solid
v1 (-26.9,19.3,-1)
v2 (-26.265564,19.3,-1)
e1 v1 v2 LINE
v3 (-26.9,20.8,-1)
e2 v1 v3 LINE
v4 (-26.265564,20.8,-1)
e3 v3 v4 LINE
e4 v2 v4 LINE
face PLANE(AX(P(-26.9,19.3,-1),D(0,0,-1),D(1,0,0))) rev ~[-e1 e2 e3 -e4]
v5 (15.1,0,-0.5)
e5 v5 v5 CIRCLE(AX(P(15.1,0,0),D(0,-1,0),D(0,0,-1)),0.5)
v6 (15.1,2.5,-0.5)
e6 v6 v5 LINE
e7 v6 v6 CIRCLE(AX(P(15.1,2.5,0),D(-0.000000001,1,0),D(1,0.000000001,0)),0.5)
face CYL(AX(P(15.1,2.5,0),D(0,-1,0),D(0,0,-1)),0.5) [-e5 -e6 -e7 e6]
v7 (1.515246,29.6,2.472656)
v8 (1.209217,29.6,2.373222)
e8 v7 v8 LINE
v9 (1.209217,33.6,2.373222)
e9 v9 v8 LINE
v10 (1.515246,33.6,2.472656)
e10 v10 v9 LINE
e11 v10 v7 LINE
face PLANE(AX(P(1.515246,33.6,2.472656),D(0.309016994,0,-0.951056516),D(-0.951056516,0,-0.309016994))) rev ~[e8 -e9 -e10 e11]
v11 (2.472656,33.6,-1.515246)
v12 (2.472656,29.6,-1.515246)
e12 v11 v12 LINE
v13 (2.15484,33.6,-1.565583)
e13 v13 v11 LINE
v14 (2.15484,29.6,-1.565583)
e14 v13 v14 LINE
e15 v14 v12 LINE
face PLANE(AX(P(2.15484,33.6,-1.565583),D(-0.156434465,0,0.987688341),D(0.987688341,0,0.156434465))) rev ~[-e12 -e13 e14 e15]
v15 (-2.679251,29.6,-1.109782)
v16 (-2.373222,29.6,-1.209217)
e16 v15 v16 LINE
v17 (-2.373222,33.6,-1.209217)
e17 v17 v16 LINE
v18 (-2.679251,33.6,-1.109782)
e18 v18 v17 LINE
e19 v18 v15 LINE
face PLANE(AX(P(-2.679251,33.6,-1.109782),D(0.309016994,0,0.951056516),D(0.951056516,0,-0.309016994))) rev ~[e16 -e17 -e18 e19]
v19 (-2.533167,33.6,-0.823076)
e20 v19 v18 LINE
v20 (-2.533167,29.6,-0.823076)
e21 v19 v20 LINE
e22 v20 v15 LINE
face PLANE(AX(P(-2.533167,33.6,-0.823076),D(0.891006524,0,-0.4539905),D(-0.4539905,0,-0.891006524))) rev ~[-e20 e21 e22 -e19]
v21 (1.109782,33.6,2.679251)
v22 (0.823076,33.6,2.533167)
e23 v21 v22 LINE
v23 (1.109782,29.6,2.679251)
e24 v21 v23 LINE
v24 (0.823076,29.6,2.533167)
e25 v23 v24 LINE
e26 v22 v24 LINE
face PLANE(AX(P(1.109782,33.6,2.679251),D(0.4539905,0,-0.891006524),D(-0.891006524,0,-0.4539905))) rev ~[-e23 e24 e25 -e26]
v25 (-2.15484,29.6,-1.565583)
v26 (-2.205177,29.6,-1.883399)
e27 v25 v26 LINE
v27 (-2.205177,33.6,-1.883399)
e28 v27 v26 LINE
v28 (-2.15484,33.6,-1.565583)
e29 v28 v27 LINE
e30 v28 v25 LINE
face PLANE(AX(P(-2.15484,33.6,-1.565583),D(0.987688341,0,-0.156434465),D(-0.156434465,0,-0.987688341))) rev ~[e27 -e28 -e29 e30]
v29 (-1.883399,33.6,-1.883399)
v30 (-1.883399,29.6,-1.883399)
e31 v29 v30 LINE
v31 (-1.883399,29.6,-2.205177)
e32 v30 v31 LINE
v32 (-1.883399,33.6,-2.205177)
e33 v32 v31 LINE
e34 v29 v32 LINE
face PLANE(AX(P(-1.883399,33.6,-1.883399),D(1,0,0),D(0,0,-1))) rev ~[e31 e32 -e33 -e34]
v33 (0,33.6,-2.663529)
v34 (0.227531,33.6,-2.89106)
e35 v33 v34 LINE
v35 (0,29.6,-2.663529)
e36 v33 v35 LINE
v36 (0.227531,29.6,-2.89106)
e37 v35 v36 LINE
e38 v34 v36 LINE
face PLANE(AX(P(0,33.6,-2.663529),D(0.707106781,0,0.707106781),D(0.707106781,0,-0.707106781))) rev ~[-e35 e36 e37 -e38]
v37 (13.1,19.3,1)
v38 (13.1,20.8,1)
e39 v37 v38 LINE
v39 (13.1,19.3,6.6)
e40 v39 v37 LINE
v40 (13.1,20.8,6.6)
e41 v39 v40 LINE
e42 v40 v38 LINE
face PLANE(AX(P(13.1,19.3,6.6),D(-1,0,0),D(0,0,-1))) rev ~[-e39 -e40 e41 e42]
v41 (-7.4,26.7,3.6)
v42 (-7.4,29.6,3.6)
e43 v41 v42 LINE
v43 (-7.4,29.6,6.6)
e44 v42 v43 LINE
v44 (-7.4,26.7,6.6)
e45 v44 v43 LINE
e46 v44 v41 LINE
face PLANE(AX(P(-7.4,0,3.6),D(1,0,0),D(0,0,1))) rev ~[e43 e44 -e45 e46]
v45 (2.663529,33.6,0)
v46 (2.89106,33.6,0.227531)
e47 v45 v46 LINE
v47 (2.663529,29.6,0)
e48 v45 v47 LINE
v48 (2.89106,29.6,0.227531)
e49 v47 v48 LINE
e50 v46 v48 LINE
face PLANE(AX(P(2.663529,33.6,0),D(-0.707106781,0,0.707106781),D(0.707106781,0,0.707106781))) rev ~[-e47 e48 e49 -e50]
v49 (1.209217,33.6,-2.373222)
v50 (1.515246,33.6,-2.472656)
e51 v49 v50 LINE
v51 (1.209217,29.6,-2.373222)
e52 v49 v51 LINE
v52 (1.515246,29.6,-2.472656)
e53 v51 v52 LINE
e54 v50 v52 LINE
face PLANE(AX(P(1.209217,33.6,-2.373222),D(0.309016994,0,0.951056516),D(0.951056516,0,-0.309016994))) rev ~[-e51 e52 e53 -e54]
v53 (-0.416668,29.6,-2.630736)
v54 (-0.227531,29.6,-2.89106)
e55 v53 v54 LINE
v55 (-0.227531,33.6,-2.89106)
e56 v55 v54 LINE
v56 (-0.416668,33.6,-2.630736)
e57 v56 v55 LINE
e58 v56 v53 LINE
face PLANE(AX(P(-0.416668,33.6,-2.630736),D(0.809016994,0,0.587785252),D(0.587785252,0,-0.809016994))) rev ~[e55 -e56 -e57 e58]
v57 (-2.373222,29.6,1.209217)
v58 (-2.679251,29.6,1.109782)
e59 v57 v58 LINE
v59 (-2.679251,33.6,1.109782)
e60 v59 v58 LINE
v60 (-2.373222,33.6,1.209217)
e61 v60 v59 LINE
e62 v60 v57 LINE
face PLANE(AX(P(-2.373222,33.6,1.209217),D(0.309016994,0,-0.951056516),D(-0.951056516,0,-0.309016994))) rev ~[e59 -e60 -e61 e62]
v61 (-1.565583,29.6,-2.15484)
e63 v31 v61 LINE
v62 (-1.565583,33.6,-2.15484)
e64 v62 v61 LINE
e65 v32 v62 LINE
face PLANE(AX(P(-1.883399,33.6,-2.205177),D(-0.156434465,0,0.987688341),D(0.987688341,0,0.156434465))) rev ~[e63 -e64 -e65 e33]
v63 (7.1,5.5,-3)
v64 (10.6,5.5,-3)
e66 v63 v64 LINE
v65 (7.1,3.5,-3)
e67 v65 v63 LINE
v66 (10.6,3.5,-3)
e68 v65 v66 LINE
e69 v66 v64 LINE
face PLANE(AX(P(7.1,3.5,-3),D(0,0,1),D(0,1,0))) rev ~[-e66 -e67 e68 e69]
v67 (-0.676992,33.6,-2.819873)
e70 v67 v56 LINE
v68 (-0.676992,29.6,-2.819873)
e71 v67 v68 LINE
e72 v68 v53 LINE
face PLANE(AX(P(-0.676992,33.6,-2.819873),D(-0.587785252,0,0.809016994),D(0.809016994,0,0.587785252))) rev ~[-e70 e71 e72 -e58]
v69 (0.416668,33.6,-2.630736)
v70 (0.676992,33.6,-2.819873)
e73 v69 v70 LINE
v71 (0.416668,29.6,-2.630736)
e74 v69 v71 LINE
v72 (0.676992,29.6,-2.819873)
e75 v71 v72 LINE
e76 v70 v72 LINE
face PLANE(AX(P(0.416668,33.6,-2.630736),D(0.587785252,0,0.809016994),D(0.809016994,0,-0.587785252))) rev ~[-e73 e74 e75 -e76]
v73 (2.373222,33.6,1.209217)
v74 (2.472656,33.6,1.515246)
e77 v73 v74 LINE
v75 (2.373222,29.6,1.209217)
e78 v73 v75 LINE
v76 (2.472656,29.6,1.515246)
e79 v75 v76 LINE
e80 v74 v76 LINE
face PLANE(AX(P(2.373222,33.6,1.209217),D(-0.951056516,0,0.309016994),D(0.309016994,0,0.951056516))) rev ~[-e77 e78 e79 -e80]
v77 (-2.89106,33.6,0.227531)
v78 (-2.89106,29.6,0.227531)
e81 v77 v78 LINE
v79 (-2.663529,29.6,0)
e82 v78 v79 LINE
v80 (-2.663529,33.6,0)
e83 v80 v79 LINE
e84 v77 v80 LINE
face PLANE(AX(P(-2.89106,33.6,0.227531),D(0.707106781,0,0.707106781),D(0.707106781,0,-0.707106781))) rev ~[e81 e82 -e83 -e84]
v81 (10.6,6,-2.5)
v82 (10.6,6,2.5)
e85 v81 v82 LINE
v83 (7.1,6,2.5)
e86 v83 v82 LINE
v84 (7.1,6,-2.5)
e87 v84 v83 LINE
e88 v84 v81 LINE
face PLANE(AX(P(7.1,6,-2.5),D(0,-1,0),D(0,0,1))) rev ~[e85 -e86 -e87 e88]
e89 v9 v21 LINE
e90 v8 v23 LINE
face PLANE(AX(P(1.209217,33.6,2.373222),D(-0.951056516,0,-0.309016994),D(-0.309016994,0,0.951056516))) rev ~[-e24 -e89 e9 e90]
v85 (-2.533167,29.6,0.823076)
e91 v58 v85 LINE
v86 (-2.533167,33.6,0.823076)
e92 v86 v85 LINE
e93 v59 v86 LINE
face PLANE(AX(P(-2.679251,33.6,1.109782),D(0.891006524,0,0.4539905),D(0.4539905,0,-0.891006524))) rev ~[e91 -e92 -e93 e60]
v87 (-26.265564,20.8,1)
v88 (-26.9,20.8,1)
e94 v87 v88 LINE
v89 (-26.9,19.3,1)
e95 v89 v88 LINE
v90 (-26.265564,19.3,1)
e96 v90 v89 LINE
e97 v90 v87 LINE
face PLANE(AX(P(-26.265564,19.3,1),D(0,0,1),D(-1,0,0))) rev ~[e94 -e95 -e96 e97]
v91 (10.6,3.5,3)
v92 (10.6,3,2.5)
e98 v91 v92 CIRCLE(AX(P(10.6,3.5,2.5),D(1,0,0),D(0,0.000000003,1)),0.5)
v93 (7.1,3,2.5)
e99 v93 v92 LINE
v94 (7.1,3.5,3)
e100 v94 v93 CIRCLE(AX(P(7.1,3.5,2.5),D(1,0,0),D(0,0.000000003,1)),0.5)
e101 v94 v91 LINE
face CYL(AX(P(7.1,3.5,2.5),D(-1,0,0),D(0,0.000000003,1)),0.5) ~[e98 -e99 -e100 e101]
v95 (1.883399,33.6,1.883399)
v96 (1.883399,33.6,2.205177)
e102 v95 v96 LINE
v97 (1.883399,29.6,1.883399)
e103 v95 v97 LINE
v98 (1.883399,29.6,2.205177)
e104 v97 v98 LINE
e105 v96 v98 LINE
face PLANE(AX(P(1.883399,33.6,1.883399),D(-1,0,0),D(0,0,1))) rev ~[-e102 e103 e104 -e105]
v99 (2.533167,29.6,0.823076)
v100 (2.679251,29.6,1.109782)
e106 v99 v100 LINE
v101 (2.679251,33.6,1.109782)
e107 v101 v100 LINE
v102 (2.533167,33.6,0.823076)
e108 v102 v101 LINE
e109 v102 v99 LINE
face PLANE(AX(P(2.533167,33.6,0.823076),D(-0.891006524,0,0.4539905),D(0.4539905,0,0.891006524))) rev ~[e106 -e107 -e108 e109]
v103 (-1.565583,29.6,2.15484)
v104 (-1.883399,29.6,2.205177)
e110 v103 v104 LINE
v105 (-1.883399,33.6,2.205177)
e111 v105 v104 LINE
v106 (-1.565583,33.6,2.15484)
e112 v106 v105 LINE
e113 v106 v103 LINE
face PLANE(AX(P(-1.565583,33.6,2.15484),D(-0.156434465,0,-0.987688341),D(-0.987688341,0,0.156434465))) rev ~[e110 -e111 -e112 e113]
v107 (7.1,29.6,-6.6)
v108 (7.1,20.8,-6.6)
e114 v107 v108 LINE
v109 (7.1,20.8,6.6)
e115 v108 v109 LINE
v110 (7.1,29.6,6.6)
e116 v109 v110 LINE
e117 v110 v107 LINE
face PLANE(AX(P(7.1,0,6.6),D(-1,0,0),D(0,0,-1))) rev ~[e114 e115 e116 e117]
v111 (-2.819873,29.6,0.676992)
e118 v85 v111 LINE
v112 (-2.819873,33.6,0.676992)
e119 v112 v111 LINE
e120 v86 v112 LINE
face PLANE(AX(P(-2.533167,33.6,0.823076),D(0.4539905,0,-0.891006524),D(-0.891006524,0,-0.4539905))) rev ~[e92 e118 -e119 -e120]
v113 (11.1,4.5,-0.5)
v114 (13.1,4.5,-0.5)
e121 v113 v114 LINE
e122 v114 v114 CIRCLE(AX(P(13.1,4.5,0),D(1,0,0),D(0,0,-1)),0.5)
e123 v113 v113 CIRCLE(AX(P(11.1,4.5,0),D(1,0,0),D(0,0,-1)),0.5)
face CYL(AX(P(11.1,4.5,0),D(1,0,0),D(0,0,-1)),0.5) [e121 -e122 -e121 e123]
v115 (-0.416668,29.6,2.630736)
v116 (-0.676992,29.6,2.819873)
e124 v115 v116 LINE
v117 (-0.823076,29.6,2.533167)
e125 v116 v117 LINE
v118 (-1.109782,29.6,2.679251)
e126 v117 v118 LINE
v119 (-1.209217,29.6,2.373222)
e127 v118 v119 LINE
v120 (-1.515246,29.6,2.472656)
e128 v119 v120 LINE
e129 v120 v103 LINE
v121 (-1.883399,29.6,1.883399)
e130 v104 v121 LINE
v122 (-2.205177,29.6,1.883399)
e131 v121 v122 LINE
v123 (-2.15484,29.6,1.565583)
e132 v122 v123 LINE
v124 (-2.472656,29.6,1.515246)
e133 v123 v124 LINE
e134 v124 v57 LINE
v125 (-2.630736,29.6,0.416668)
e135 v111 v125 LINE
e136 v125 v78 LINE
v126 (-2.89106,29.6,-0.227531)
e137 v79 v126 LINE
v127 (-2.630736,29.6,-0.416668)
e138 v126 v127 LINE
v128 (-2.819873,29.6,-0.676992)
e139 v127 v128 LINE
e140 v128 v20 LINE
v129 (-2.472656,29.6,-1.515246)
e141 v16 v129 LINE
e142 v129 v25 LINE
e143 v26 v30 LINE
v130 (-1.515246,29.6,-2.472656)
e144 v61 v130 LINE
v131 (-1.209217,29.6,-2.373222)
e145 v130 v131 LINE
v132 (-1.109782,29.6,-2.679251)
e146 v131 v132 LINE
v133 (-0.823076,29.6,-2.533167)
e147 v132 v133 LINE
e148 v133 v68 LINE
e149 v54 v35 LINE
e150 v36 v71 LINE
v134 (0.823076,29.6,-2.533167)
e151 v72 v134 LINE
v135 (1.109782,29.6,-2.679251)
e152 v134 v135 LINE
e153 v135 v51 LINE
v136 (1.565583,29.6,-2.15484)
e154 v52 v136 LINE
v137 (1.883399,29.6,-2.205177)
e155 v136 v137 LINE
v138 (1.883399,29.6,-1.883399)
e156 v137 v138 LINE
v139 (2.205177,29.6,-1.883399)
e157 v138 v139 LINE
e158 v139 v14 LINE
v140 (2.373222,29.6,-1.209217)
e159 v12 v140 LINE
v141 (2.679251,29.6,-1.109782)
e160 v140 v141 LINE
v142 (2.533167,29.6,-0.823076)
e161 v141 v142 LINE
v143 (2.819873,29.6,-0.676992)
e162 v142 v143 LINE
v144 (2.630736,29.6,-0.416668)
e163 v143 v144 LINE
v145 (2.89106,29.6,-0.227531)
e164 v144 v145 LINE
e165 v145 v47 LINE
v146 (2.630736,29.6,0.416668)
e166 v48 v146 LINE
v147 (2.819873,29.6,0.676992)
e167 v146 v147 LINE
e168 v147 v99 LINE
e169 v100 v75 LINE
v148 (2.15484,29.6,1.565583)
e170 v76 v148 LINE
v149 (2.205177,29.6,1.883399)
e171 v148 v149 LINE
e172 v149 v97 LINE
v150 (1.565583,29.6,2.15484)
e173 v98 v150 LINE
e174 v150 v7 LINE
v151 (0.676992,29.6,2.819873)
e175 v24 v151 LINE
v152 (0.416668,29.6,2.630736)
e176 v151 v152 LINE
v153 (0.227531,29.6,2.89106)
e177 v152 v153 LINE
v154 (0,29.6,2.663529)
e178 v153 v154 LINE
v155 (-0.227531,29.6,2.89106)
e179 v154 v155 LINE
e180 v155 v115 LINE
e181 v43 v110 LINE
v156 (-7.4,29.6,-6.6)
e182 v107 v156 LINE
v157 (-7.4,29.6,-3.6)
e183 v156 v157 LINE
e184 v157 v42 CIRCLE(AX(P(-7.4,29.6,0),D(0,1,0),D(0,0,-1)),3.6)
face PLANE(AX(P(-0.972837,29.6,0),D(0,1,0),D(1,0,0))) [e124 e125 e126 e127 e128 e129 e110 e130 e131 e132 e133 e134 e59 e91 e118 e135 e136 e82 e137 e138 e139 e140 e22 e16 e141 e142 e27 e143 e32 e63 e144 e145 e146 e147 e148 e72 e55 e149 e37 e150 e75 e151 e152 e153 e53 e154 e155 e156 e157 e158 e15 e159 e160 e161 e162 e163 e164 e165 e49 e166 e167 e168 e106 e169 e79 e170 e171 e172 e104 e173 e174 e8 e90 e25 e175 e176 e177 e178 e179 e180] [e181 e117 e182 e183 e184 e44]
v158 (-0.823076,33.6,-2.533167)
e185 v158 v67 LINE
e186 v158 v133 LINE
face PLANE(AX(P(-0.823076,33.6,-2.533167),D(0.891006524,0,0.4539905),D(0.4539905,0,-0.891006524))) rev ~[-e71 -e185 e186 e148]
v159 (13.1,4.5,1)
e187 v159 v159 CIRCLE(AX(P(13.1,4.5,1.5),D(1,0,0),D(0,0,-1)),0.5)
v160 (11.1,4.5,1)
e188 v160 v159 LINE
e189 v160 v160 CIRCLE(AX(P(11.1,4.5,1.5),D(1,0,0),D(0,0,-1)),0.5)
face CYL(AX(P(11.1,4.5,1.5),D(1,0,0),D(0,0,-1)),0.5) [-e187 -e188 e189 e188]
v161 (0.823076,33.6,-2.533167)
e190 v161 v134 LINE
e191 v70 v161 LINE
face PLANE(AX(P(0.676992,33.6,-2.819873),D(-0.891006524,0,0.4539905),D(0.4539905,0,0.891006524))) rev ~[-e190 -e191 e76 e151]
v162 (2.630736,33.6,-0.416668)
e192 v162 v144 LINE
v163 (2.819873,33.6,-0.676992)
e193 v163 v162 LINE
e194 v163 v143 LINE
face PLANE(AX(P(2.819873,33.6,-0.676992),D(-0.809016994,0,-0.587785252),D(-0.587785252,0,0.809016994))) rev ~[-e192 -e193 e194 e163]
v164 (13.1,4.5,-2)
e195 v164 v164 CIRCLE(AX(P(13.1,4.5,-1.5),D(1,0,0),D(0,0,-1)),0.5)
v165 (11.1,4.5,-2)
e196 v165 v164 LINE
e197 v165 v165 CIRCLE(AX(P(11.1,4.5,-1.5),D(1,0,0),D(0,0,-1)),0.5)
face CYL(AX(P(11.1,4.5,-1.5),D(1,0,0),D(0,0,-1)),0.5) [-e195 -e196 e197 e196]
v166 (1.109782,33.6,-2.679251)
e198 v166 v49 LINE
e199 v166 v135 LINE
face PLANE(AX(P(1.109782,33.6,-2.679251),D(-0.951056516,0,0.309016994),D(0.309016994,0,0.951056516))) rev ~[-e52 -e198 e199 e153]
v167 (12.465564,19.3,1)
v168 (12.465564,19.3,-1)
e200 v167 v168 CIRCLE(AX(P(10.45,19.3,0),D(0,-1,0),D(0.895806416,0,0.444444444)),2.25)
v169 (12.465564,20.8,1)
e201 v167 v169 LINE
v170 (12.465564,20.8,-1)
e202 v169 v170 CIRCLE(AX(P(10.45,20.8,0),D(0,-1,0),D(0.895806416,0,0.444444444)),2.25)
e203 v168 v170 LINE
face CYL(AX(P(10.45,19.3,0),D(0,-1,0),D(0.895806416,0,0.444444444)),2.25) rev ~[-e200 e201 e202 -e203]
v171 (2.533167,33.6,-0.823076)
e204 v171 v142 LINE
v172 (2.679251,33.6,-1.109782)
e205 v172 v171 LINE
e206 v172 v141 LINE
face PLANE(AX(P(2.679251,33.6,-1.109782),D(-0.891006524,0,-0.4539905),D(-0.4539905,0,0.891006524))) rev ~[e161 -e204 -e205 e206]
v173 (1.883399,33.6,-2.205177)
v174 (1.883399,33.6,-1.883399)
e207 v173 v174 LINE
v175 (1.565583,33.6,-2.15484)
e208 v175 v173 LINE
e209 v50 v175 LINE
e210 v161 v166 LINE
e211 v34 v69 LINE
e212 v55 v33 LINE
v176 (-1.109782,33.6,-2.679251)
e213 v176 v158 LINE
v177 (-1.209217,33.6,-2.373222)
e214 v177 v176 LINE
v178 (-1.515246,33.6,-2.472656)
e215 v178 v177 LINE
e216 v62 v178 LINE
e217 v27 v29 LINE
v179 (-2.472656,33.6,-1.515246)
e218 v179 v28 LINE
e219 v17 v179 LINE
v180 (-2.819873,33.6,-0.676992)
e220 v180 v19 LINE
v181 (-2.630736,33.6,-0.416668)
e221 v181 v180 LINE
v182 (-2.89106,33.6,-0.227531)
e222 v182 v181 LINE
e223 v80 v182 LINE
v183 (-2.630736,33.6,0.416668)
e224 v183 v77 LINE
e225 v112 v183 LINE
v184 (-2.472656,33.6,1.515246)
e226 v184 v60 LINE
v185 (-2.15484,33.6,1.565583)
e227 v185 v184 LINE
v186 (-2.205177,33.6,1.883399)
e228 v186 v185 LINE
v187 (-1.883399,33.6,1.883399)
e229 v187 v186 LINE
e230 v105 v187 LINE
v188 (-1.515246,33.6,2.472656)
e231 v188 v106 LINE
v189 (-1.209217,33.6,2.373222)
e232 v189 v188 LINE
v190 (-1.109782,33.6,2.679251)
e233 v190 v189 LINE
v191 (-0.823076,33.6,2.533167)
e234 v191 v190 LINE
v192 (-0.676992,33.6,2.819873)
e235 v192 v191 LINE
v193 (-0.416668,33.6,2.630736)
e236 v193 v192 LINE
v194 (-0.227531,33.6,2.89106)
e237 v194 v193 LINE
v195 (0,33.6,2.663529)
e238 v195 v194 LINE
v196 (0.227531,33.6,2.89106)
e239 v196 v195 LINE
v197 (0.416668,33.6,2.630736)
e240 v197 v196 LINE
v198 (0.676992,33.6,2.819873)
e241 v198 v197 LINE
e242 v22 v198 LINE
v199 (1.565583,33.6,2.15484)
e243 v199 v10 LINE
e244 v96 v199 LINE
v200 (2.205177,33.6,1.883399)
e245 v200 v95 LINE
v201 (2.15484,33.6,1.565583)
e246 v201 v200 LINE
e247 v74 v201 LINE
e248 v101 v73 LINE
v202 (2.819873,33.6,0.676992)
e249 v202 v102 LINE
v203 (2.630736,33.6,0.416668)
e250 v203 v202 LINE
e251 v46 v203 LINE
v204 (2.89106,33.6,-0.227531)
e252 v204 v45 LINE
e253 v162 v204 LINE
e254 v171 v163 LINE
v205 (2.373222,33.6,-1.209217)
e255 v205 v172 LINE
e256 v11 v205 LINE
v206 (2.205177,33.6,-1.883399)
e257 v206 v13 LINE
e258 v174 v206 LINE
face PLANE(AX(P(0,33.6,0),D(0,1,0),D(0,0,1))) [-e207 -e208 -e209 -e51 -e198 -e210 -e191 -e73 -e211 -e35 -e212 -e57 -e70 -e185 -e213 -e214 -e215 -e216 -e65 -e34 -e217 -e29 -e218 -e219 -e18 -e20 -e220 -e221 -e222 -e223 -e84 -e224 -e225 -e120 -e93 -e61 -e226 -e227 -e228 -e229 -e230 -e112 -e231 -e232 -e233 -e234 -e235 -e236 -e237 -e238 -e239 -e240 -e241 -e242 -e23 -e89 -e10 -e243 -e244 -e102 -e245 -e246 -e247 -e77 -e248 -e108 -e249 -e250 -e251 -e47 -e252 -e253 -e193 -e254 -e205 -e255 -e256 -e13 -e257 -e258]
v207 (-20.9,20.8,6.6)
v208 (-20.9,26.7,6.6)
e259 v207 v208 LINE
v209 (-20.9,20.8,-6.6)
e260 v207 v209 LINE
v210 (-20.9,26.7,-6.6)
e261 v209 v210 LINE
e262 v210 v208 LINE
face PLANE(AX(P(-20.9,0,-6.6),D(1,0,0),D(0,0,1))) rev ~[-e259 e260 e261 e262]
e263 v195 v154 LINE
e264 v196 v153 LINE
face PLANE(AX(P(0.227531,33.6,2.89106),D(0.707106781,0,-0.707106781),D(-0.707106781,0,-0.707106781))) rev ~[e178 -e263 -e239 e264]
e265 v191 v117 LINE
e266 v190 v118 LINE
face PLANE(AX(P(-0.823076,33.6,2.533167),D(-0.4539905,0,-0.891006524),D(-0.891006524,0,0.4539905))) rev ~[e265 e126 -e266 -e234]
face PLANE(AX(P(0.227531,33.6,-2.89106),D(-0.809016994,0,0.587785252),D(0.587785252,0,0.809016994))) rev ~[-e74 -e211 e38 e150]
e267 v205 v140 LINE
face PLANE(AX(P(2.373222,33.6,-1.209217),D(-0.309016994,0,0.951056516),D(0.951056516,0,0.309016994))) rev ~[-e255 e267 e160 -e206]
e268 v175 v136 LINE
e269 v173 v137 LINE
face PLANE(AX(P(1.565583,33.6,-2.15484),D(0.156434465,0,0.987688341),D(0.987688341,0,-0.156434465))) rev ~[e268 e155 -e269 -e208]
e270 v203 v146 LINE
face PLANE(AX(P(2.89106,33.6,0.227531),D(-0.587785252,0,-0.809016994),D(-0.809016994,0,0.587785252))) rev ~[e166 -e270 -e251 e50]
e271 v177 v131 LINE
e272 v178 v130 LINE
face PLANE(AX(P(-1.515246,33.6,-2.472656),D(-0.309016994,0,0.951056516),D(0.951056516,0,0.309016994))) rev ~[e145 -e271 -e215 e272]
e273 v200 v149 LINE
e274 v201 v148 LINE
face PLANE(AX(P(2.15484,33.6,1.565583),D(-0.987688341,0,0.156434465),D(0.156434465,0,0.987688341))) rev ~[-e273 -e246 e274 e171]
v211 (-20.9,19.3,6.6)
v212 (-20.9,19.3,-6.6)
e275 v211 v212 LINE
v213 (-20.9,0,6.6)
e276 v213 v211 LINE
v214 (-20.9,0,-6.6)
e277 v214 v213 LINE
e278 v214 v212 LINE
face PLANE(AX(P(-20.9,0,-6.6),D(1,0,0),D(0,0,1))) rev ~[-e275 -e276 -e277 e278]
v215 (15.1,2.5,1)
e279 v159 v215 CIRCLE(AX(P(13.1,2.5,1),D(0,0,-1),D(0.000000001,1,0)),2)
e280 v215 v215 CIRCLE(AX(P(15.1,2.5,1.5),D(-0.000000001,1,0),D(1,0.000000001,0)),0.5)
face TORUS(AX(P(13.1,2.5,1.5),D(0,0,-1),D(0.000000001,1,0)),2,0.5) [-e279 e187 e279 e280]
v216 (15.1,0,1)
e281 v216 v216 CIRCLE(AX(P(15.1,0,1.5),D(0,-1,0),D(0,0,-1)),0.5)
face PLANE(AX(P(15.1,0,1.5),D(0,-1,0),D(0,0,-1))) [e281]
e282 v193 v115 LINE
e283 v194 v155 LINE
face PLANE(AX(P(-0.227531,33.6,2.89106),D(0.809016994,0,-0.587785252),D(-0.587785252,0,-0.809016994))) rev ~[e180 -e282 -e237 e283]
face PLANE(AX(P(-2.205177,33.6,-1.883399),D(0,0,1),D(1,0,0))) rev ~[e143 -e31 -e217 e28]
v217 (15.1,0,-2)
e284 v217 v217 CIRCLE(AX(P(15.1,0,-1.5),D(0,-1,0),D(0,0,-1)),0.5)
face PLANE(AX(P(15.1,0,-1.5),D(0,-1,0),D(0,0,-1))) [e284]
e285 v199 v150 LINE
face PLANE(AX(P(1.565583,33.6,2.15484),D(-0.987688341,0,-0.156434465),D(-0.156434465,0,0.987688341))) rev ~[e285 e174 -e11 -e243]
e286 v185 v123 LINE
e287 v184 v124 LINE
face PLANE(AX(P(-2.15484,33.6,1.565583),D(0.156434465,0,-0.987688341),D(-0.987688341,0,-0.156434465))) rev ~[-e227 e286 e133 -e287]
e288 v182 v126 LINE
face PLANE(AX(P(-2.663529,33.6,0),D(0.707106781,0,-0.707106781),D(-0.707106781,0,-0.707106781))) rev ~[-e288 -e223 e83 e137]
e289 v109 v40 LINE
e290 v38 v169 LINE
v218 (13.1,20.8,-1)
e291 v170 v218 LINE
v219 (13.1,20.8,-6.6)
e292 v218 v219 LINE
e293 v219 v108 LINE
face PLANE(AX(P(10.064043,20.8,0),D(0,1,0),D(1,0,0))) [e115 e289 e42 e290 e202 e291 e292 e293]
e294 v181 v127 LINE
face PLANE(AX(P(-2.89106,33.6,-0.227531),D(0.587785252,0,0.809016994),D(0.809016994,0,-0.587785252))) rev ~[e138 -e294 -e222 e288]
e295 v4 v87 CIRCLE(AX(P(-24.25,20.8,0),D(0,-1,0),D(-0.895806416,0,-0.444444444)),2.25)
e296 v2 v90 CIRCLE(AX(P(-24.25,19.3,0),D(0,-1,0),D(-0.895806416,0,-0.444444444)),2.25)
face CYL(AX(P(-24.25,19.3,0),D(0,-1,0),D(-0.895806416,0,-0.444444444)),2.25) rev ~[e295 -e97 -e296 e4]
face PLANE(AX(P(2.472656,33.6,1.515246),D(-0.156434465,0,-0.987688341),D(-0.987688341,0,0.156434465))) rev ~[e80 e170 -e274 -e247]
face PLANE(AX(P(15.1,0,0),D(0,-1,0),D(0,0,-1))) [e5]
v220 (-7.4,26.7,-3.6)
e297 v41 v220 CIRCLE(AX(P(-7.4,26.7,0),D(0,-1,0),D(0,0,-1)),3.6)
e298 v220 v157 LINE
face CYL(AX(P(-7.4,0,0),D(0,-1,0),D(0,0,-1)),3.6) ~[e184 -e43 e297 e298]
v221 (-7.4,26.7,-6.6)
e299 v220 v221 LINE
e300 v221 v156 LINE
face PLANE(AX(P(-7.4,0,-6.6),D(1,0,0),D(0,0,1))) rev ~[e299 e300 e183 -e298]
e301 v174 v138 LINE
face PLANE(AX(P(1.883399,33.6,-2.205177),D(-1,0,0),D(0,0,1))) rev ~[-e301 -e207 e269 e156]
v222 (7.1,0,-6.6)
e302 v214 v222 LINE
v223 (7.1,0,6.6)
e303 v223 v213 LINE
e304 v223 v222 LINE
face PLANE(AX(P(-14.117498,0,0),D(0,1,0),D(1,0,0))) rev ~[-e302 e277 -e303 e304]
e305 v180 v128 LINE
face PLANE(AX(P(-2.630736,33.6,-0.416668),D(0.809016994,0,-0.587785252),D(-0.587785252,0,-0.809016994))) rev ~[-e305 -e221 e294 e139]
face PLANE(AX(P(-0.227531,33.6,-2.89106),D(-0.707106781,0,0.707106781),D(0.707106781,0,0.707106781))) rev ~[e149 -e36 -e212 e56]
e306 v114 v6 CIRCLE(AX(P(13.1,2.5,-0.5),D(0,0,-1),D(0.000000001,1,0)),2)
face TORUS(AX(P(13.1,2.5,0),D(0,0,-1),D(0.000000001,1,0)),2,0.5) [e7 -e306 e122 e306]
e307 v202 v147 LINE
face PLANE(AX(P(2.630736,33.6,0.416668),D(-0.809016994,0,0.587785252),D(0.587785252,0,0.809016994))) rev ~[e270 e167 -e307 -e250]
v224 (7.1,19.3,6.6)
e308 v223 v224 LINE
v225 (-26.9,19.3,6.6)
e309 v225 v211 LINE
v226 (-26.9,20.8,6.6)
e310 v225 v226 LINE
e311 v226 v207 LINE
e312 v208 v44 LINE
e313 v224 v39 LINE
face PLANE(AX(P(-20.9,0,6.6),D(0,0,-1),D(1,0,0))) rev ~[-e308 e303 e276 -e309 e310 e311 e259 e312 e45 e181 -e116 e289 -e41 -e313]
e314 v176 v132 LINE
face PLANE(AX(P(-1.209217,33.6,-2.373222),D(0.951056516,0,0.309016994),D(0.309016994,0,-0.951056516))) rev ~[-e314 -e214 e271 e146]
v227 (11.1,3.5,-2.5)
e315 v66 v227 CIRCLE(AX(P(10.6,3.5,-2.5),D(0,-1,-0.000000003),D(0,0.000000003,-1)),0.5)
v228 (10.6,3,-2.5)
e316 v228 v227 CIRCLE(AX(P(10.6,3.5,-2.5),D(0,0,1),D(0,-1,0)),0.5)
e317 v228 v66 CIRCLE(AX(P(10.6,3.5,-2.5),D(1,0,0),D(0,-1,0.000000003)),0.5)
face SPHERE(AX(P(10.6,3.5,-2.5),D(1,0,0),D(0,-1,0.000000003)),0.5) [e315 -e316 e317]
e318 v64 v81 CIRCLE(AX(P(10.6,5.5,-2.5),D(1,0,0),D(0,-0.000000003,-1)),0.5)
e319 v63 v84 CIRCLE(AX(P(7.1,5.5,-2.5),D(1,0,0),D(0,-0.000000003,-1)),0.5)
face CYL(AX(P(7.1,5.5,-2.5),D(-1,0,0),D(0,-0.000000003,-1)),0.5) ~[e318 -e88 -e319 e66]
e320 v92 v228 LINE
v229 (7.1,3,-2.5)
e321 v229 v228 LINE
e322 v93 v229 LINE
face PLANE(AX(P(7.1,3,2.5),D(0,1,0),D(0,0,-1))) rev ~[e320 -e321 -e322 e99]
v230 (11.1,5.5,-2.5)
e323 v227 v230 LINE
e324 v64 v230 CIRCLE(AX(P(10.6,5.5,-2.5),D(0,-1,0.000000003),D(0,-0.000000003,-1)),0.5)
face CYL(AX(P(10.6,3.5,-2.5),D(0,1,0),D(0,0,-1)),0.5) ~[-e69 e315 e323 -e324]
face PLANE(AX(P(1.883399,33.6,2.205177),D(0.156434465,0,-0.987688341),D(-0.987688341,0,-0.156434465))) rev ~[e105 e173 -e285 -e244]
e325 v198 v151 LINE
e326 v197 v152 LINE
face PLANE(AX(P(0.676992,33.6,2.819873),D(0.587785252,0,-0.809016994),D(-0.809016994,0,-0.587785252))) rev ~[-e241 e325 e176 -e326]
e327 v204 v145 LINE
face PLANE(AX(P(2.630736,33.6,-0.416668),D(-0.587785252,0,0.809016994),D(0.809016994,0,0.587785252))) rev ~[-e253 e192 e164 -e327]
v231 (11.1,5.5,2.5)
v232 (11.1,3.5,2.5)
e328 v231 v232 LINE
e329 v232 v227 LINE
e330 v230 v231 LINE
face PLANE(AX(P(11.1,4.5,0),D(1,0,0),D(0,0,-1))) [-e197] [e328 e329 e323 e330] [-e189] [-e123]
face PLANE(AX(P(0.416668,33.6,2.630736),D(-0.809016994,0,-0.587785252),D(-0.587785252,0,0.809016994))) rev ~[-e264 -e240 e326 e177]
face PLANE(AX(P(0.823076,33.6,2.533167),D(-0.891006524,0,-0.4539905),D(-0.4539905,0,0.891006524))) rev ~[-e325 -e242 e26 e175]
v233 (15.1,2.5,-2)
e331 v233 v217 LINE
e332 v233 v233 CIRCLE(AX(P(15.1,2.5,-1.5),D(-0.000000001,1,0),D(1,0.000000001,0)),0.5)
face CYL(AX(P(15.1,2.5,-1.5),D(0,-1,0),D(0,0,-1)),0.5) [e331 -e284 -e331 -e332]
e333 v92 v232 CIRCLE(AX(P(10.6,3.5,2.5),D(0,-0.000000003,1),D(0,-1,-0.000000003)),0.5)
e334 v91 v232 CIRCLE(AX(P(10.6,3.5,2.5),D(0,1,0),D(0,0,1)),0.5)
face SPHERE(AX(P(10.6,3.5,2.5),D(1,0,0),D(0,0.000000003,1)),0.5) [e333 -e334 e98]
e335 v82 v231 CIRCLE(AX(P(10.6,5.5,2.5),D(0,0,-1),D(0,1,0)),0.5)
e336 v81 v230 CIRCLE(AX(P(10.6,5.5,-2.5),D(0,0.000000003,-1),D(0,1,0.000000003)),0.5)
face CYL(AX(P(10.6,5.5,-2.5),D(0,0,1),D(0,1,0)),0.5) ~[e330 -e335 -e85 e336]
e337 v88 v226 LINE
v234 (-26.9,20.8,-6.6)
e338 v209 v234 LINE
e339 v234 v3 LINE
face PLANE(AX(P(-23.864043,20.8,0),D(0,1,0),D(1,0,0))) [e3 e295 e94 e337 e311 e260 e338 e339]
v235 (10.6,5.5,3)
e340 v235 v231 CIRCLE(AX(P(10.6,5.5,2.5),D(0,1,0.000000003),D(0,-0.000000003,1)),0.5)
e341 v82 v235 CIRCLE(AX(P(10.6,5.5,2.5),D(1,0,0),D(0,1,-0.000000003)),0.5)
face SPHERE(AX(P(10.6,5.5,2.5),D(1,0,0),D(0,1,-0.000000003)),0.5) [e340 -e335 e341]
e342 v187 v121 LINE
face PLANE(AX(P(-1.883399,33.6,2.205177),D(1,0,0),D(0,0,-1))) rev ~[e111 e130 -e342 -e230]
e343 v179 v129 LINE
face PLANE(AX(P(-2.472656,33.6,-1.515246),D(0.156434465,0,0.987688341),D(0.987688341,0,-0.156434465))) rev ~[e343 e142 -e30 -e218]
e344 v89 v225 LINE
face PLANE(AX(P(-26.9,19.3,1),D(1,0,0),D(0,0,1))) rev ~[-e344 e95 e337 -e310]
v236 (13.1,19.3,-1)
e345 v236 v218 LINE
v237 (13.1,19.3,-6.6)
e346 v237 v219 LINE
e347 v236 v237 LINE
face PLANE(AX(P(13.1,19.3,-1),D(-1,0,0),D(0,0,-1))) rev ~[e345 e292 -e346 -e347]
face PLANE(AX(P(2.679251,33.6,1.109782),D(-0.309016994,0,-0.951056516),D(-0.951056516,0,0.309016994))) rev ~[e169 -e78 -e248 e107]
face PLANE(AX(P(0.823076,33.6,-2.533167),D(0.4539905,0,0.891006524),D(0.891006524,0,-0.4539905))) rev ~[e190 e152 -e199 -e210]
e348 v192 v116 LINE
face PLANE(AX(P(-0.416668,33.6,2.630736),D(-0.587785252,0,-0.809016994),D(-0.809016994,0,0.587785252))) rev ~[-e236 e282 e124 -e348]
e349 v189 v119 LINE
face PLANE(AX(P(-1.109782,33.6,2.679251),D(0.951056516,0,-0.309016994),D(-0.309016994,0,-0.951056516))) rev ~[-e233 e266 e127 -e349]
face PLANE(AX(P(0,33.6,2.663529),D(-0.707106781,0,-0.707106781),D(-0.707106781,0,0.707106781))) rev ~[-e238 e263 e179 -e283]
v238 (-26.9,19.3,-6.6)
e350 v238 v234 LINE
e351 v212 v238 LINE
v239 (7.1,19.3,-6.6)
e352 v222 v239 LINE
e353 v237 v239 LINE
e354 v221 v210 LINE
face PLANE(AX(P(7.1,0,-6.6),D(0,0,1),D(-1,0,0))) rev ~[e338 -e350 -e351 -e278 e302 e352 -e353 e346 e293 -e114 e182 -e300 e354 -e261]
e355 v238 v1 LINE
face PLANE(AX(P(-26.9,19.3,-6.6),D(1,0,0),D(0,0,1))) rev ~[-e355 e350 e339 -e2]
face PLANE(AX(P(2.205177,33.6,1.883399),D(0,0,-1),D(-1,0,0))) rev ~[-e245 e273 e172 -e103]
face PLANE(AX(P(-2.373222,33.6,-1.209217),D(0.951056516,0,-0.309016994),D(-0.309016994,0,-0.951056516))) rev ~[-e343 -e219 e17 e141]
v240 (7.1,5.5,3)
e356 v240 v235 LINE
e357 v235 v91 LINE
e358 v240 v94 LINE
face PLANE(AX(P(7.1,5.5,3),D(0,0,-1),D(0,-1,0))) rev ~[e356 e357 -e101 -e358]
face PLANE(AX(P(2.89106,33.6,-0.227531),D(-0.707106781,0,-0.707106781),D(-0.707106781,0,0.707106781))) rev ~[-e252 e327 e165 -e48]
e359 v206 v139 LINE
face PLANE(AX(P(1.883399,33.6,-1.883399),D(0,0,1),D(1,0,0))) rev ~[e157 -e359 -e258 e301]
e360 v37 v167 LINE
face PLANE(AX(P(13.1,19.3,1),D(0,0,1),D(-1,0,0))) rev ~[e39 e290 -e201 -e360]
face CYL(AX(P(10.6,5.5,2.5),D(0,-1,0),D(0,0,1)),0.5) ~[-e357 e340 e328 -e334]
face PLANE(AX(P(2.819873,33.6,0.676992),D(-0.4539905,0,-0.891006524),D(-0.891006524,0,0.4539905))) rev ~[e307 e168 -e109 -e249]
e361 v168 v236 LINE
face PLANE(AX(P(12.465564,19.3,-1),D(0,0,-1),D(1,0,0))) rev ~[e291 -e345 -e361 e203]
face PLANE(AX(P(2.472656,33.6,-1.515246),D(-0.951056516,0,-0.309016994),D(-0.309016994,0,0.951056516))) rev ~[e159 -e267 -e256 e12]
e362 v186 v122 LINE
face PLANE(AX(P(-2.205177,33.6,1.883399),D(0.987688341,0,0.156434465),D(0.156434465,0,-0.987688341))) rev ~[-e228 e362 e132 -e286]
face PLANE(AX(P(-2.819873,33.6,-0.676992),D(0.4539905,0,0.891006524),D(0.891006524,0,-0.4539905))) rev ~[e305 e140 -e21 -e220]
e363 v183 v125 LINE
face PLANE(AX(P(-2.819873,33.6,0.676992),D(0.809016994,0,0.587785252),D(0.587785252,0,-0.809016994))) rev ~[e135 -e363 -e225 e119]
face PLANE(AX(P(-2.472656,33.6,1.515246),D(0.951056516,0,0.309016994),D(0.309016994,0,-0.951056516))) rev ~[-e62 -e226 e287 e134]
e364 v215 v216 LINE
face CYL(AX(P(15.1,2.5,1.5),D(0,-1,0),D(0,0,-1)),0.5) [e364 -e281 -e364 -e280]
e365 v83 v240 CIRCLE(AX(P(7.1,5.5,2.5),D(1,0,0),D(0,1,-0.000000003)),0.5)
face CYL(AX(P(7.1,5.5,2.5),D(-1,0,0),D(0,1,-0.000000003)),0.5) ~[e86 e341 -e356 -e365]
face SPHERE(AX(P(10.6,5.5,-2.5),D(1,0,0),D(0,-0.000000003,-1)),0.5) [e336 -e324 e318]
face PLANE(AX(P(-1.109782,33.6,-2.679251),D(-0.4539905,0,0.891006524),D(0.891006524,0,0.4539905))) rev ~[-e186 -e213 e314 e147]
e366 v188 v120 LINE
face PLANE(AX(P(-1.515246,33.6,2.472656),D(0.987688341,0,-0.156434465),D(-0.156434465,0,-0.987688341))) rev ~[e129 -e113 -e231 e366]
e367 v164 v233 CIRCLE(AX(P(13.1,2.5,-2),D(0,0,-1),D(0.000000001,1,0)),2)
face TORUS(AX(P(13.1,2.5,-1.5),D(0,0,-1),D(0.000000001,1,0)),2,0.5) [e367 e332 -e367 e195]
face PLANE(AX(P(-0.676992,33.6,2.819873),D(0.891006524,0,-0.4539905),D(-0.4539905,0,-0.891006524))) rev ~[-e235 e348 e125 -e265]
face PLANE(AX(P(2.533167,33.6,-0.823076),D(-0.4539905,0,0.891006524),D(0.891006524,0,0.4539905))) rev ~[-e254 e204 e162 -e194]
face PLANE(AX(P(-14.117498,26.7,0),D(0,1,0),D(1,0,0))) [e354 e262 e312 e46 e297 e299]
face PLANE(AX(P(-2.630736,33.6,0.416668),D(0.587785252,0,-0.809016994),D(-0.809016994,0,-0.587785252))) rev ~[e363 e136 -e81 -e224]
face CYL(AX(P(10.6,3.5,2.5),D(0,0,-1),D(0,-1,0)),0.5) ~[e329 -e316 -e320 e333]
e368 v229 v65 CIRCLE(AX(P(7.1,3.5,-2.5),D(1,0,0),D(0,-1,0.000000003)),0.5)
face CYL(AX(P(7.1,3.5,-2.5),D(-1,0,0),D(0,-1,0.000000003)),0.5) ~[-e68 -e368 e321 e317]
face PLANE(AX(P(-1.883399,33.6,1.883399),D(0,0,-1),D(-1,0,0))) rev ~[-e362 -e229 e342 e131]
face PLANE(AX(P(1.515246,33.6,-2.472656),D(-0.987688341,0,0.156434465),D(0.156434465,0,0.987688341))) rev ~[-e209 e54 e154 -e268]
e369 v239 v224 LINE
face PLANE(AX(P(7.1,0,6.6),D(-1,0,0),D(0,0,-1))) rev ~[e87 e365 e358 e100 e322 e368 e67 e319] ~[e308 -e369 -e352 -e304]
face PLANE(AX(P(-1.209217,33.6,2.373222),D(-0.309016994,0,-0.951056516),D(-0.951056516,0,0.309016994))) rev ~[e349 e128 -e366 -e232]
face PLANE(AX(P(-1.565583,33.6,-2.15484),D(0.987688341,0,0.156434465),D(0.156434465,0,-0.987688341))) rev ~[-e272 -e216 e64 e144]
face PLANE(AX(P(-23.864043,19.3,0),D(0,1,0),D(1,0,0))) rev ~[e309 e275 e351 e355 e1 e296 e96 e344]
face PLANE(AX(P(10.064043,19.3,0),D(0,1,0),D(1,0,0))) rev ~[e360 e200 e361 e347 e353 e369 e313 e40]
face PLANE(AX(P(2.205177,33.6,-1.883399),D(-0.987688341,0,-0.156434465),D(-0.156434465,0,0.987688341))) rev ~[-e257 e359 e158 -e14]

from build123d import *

# Parameters (mm, degrees)
SZKIC1_R                    = 2.9
DODANIE_WYCI_GNI_CIE1_DEPTH = 26.7
DODANIE_WYCI_GNI_CIE2_START = 19.3
DODANIE_WYCI_GNI_CIE2_DEPTH = 1.5
DODANIE_WYCI_GNI_CIE3_DEPTH = 29.6
DODANIE_WYCI_GNI_CIE4_START = 29.6
SZKIC1_5_R                  = 2.9
DODANIE_WYCI_GNI_CIE4_DEPTH = 4
WYTNIJ_WYCI_GNI_CIE1_DEPTH  = 4
SZYK_KO_OWY1_COUNT          = 40
DODANIE_WYCI_GNI_CIE5_DEPTH = 4
ZAOKR_GLENIE1_R             = 0.5
SZKIC5_R                    = 0.5


with BuildPart() as part:
    # Szkic1 → Dodanie-wyci_gni_cie1 (new body)
    with BuildSketch(Plane(origin=(0, 0, 0), x_dir=(1, 0, 0), z_dir=(0, 1, 0))):
        with BuildLine():
            Line((-20.9, 6.6), (-20.9, -6.6))
            Line((-20.9, -6.6), (-7.4, -6.6))
            Line((-7.4, -6.6), (-7.4, -3.6))
            ThreePointArc((-7.4, -3.6), (-11, 0), (-7.4, 3.6))
            Line((-7.4, 3.6), (-7.4, 6.6))
            Line((-7.4, 6.6), (-20.9, 6.6))
        make_face()
        with BuildLine():
            Line((-7.4, -3.6), (-7.4, -6.6))
            Line((-7.4, -6.6), (7.1, -6.6))
            Line((7.1, -6.6), (7.1, 6.6))
            Line((7.1, 6.6), (-7.4, 6.6))
            Line((-7.4, 6.6), (-7.4, 3.6))
            ThreePointArc((-7.4, 3.6), (-11, 0), (-7.4, -3.6))
        make_face()
        Circle(SZKIC1_R, mode=Mode.SUBTRACT)
        Circle(SZKIC1_R)
    extrude(amount=DODANIE_WYCI_GNI_CIE1_DEPTH)

    # Szkic1_3 → Dodanie-wyci_gni_cie2 (add)
    with BuildSketch(Plane(origin=(0, 0, 0), x_dir=(1, 0, 0), z_dir=(0, 1, 0)).offset(DODANIE_WYCI_GNI_CIE2_START)):
        with BuildLine():
            Line((7.1, 6.6), (7.1, -6.6))
            Line((7.1, -6.6), (13.1, -6.6))
            Line((13.1, -6.6), (13.1, -1))
            Line((13.1, -1), (12.465564437, -1))
            ThreePointArc((12.465564437, -1), (8.2, 0), (12.465564437, 1))
            Line((12.465564437, 1), (13.1, 1))
            Line((13.1, 1), (13.1, 6.6))
            Line((13.1, 6.6), (7.1, 6.6))
        make_face()
        with BuildLine():
            Line((-26.9, -6.6), (-20.9, -6.6))
            Line((-20.9, -6.6), (-20.9, 6.6))
            Line((-20.9, 6.6), (-26.9, 6.6))
            Line((-26.9, 6.6), (-26.9, 1))
            Line((-26.9, 1), (-26.265564437, 1))
            ThreePointArc((-26.265564437, 1), (-22, 0), (-26.265564437, -1))
            Line((-26.265564437, -1), (-26.9, -1))
            Line((-26.9, -1), (-26.9, -6.6))
        make_face()
    extrude(amount=DODANIE_WYCI_GNI_CIE2_DEPTH)

    # Szkic1_4 → Dodanie-wyci_gni_cie3 (add)
    with BuildSketch(Plane(origin=(0, 0, 0), x_dir=(1, 0, 0), z_dir=(0, 1, 0))):
        with BuildLine():
            Line((-7.4, -3.6), (-7.4, -6.6))
            Line((-7.4, -6.6), (7.1, -6.6))
            Line((7.1, -6.6), (7.1, 6.6))
            Line((7.1, 6.6), (-7.4, 6.6))
            Line((-7.4, 6.6), (-7.4, 3.6))
            ThreePointArc((-7.4, 3.6), (-11, 0), (-7.4, -3.6))
        make_face()
    extrude(amount=DODANIE_WYCI_GNI_CIE3_DEPTH)

    # Szkic1_5 → Dodanie-wyci_gni_cie4 (add)
    with BuildSketch(Plane(origin=(0, 0, 0), x_dir=(1, 0, 0), z_dir=(0, 1, 0)).offset(DODANIE_WYCI_GNI_CIE4_START)):
        with Locations(Location((0, 0, 0), (0, 0, 270))):
            Circle(SZKIC1_5_R)
    extrude(amount=DODANIE_WYCI_GNI_CIE4_DEPTH)

    # Szkic3 → Wytnij-wyci_gni_cie1 (cut)
    with BuildSketch(Plane(origin=(0, 33.6, 0), x_dir=(1, 0, 0), z_dir=(0, 1, 0))):
        Polygon((-0.227531378, 2.891060268), (0, 2.66352889), (0.227531378, 2.891060268), (0.227531378, 3.66352889), (-0.227531378, 3.66352889), align=None)
    wytnij_wyci_gni_cie1 = extrude(amount=-WYTNIJ_WYCI_GNI_CIE1_DEPTH, mode=Mode.SUBTRACT)

    # Szyk ko_owy1: Wytnij-wyci_gni_cie1 ×40 about axis
    szyk_ko_owy1_axis = Axis((0, 0, 0), (0, 1, 0))
    for i in range(1, SZYK_KO_OWY1_COUNT):
        add(wytnij_wyci_gni_cie1.rotate(szyk_ko_owy1_axis, i * 360 / SZYK_KO_OWY1_COUNT), mode=Mode.SUBTRACT)

    # Szkic4 → Dodanie-wyci_gni_cie5 (add)
    with BuildSketch(Plane(origin=(7.1, 0, 0), x_dir=(0, 0, -1), z_dir=(1, 0, 0))):
        with BuildLine():
            Line((-2.5, 3), (2.5, 3))
            ThreePointArc((2.5, 3), (2.853553391, 3.146446609), (3, 3.5))
            Line((3, 3.5), (3, 5.5))
            ThreePointArc((3, 5.5), (2.853553391, 5.853553391), (2.5, 6))
            Line((2.5, 6), (-2.5, 6))
            ThreePointArc((-2.5, 6), (-2.853553391, 5.853553391), (-3, 5.5))
            Line((-3, 5.5), (-3, 3.5))
            ThreePointArc((-3, 3.5), (-2.853553391, 3.146446609), (-2.5, 3))
        make_face()
    extrude(amount=DODANIE_WYCI_GNI_CIE5_DEPTH)

    # Zaokr_glenie1
    zaokr_glenie1_edges = [part.edges().sort_by_distance(p)[0] for p in [
        (11.1, 5.853553391, -2.853553391),
        (11.1, 6, 0),
        (11.1, 5.853553391, 2.853553391),
        (11.1, 4.5, 3),
        (11.1, 3.146446609, 2.853553391),
        (11.1, 3, 0),
        (11.1, 3.146446609, -2.853553391),
        (11.1, 4.5, -3),
    ]]
    fillet(zaokr_glenie1_edges, radius=ZAOKR_GLENIE1_R)

    # Wyci_gni_cie po _cie_ce1: sweep along a path in Szkic6
    with BuildLine(Plane.XY) as wyci_gni_cie_po_cie_ce1_path:
        Line((11.1, 4.5), (13.1, 4.5))
        ThreePointArc((13.1, 4.5), (14.514213562, 3.914213562), (15.1, 2.5))
        Line((15.1, 2.5), (15.1, 0))
    # Szkic5 → Wyci_gni_cie po _cie_ce1 (sweep)
    with BuildSketch(Plane(origin=(11.1, 0, 0), x_dir=(0, 0, -1), z_dir=(1, 0, 0))):
        with Locations((-1.5, 4.5)):
            Circle(SZKIC5_R)
        with Locations((0, 4.5)):
            Circle(SZKIC5_R)
        with Locations((1.5, 4.5)):
            Circle(SZKIC5_R)
    sweep(path=wyci_gni_cie_po_cie_ce1_path.line)


solid = part.part
